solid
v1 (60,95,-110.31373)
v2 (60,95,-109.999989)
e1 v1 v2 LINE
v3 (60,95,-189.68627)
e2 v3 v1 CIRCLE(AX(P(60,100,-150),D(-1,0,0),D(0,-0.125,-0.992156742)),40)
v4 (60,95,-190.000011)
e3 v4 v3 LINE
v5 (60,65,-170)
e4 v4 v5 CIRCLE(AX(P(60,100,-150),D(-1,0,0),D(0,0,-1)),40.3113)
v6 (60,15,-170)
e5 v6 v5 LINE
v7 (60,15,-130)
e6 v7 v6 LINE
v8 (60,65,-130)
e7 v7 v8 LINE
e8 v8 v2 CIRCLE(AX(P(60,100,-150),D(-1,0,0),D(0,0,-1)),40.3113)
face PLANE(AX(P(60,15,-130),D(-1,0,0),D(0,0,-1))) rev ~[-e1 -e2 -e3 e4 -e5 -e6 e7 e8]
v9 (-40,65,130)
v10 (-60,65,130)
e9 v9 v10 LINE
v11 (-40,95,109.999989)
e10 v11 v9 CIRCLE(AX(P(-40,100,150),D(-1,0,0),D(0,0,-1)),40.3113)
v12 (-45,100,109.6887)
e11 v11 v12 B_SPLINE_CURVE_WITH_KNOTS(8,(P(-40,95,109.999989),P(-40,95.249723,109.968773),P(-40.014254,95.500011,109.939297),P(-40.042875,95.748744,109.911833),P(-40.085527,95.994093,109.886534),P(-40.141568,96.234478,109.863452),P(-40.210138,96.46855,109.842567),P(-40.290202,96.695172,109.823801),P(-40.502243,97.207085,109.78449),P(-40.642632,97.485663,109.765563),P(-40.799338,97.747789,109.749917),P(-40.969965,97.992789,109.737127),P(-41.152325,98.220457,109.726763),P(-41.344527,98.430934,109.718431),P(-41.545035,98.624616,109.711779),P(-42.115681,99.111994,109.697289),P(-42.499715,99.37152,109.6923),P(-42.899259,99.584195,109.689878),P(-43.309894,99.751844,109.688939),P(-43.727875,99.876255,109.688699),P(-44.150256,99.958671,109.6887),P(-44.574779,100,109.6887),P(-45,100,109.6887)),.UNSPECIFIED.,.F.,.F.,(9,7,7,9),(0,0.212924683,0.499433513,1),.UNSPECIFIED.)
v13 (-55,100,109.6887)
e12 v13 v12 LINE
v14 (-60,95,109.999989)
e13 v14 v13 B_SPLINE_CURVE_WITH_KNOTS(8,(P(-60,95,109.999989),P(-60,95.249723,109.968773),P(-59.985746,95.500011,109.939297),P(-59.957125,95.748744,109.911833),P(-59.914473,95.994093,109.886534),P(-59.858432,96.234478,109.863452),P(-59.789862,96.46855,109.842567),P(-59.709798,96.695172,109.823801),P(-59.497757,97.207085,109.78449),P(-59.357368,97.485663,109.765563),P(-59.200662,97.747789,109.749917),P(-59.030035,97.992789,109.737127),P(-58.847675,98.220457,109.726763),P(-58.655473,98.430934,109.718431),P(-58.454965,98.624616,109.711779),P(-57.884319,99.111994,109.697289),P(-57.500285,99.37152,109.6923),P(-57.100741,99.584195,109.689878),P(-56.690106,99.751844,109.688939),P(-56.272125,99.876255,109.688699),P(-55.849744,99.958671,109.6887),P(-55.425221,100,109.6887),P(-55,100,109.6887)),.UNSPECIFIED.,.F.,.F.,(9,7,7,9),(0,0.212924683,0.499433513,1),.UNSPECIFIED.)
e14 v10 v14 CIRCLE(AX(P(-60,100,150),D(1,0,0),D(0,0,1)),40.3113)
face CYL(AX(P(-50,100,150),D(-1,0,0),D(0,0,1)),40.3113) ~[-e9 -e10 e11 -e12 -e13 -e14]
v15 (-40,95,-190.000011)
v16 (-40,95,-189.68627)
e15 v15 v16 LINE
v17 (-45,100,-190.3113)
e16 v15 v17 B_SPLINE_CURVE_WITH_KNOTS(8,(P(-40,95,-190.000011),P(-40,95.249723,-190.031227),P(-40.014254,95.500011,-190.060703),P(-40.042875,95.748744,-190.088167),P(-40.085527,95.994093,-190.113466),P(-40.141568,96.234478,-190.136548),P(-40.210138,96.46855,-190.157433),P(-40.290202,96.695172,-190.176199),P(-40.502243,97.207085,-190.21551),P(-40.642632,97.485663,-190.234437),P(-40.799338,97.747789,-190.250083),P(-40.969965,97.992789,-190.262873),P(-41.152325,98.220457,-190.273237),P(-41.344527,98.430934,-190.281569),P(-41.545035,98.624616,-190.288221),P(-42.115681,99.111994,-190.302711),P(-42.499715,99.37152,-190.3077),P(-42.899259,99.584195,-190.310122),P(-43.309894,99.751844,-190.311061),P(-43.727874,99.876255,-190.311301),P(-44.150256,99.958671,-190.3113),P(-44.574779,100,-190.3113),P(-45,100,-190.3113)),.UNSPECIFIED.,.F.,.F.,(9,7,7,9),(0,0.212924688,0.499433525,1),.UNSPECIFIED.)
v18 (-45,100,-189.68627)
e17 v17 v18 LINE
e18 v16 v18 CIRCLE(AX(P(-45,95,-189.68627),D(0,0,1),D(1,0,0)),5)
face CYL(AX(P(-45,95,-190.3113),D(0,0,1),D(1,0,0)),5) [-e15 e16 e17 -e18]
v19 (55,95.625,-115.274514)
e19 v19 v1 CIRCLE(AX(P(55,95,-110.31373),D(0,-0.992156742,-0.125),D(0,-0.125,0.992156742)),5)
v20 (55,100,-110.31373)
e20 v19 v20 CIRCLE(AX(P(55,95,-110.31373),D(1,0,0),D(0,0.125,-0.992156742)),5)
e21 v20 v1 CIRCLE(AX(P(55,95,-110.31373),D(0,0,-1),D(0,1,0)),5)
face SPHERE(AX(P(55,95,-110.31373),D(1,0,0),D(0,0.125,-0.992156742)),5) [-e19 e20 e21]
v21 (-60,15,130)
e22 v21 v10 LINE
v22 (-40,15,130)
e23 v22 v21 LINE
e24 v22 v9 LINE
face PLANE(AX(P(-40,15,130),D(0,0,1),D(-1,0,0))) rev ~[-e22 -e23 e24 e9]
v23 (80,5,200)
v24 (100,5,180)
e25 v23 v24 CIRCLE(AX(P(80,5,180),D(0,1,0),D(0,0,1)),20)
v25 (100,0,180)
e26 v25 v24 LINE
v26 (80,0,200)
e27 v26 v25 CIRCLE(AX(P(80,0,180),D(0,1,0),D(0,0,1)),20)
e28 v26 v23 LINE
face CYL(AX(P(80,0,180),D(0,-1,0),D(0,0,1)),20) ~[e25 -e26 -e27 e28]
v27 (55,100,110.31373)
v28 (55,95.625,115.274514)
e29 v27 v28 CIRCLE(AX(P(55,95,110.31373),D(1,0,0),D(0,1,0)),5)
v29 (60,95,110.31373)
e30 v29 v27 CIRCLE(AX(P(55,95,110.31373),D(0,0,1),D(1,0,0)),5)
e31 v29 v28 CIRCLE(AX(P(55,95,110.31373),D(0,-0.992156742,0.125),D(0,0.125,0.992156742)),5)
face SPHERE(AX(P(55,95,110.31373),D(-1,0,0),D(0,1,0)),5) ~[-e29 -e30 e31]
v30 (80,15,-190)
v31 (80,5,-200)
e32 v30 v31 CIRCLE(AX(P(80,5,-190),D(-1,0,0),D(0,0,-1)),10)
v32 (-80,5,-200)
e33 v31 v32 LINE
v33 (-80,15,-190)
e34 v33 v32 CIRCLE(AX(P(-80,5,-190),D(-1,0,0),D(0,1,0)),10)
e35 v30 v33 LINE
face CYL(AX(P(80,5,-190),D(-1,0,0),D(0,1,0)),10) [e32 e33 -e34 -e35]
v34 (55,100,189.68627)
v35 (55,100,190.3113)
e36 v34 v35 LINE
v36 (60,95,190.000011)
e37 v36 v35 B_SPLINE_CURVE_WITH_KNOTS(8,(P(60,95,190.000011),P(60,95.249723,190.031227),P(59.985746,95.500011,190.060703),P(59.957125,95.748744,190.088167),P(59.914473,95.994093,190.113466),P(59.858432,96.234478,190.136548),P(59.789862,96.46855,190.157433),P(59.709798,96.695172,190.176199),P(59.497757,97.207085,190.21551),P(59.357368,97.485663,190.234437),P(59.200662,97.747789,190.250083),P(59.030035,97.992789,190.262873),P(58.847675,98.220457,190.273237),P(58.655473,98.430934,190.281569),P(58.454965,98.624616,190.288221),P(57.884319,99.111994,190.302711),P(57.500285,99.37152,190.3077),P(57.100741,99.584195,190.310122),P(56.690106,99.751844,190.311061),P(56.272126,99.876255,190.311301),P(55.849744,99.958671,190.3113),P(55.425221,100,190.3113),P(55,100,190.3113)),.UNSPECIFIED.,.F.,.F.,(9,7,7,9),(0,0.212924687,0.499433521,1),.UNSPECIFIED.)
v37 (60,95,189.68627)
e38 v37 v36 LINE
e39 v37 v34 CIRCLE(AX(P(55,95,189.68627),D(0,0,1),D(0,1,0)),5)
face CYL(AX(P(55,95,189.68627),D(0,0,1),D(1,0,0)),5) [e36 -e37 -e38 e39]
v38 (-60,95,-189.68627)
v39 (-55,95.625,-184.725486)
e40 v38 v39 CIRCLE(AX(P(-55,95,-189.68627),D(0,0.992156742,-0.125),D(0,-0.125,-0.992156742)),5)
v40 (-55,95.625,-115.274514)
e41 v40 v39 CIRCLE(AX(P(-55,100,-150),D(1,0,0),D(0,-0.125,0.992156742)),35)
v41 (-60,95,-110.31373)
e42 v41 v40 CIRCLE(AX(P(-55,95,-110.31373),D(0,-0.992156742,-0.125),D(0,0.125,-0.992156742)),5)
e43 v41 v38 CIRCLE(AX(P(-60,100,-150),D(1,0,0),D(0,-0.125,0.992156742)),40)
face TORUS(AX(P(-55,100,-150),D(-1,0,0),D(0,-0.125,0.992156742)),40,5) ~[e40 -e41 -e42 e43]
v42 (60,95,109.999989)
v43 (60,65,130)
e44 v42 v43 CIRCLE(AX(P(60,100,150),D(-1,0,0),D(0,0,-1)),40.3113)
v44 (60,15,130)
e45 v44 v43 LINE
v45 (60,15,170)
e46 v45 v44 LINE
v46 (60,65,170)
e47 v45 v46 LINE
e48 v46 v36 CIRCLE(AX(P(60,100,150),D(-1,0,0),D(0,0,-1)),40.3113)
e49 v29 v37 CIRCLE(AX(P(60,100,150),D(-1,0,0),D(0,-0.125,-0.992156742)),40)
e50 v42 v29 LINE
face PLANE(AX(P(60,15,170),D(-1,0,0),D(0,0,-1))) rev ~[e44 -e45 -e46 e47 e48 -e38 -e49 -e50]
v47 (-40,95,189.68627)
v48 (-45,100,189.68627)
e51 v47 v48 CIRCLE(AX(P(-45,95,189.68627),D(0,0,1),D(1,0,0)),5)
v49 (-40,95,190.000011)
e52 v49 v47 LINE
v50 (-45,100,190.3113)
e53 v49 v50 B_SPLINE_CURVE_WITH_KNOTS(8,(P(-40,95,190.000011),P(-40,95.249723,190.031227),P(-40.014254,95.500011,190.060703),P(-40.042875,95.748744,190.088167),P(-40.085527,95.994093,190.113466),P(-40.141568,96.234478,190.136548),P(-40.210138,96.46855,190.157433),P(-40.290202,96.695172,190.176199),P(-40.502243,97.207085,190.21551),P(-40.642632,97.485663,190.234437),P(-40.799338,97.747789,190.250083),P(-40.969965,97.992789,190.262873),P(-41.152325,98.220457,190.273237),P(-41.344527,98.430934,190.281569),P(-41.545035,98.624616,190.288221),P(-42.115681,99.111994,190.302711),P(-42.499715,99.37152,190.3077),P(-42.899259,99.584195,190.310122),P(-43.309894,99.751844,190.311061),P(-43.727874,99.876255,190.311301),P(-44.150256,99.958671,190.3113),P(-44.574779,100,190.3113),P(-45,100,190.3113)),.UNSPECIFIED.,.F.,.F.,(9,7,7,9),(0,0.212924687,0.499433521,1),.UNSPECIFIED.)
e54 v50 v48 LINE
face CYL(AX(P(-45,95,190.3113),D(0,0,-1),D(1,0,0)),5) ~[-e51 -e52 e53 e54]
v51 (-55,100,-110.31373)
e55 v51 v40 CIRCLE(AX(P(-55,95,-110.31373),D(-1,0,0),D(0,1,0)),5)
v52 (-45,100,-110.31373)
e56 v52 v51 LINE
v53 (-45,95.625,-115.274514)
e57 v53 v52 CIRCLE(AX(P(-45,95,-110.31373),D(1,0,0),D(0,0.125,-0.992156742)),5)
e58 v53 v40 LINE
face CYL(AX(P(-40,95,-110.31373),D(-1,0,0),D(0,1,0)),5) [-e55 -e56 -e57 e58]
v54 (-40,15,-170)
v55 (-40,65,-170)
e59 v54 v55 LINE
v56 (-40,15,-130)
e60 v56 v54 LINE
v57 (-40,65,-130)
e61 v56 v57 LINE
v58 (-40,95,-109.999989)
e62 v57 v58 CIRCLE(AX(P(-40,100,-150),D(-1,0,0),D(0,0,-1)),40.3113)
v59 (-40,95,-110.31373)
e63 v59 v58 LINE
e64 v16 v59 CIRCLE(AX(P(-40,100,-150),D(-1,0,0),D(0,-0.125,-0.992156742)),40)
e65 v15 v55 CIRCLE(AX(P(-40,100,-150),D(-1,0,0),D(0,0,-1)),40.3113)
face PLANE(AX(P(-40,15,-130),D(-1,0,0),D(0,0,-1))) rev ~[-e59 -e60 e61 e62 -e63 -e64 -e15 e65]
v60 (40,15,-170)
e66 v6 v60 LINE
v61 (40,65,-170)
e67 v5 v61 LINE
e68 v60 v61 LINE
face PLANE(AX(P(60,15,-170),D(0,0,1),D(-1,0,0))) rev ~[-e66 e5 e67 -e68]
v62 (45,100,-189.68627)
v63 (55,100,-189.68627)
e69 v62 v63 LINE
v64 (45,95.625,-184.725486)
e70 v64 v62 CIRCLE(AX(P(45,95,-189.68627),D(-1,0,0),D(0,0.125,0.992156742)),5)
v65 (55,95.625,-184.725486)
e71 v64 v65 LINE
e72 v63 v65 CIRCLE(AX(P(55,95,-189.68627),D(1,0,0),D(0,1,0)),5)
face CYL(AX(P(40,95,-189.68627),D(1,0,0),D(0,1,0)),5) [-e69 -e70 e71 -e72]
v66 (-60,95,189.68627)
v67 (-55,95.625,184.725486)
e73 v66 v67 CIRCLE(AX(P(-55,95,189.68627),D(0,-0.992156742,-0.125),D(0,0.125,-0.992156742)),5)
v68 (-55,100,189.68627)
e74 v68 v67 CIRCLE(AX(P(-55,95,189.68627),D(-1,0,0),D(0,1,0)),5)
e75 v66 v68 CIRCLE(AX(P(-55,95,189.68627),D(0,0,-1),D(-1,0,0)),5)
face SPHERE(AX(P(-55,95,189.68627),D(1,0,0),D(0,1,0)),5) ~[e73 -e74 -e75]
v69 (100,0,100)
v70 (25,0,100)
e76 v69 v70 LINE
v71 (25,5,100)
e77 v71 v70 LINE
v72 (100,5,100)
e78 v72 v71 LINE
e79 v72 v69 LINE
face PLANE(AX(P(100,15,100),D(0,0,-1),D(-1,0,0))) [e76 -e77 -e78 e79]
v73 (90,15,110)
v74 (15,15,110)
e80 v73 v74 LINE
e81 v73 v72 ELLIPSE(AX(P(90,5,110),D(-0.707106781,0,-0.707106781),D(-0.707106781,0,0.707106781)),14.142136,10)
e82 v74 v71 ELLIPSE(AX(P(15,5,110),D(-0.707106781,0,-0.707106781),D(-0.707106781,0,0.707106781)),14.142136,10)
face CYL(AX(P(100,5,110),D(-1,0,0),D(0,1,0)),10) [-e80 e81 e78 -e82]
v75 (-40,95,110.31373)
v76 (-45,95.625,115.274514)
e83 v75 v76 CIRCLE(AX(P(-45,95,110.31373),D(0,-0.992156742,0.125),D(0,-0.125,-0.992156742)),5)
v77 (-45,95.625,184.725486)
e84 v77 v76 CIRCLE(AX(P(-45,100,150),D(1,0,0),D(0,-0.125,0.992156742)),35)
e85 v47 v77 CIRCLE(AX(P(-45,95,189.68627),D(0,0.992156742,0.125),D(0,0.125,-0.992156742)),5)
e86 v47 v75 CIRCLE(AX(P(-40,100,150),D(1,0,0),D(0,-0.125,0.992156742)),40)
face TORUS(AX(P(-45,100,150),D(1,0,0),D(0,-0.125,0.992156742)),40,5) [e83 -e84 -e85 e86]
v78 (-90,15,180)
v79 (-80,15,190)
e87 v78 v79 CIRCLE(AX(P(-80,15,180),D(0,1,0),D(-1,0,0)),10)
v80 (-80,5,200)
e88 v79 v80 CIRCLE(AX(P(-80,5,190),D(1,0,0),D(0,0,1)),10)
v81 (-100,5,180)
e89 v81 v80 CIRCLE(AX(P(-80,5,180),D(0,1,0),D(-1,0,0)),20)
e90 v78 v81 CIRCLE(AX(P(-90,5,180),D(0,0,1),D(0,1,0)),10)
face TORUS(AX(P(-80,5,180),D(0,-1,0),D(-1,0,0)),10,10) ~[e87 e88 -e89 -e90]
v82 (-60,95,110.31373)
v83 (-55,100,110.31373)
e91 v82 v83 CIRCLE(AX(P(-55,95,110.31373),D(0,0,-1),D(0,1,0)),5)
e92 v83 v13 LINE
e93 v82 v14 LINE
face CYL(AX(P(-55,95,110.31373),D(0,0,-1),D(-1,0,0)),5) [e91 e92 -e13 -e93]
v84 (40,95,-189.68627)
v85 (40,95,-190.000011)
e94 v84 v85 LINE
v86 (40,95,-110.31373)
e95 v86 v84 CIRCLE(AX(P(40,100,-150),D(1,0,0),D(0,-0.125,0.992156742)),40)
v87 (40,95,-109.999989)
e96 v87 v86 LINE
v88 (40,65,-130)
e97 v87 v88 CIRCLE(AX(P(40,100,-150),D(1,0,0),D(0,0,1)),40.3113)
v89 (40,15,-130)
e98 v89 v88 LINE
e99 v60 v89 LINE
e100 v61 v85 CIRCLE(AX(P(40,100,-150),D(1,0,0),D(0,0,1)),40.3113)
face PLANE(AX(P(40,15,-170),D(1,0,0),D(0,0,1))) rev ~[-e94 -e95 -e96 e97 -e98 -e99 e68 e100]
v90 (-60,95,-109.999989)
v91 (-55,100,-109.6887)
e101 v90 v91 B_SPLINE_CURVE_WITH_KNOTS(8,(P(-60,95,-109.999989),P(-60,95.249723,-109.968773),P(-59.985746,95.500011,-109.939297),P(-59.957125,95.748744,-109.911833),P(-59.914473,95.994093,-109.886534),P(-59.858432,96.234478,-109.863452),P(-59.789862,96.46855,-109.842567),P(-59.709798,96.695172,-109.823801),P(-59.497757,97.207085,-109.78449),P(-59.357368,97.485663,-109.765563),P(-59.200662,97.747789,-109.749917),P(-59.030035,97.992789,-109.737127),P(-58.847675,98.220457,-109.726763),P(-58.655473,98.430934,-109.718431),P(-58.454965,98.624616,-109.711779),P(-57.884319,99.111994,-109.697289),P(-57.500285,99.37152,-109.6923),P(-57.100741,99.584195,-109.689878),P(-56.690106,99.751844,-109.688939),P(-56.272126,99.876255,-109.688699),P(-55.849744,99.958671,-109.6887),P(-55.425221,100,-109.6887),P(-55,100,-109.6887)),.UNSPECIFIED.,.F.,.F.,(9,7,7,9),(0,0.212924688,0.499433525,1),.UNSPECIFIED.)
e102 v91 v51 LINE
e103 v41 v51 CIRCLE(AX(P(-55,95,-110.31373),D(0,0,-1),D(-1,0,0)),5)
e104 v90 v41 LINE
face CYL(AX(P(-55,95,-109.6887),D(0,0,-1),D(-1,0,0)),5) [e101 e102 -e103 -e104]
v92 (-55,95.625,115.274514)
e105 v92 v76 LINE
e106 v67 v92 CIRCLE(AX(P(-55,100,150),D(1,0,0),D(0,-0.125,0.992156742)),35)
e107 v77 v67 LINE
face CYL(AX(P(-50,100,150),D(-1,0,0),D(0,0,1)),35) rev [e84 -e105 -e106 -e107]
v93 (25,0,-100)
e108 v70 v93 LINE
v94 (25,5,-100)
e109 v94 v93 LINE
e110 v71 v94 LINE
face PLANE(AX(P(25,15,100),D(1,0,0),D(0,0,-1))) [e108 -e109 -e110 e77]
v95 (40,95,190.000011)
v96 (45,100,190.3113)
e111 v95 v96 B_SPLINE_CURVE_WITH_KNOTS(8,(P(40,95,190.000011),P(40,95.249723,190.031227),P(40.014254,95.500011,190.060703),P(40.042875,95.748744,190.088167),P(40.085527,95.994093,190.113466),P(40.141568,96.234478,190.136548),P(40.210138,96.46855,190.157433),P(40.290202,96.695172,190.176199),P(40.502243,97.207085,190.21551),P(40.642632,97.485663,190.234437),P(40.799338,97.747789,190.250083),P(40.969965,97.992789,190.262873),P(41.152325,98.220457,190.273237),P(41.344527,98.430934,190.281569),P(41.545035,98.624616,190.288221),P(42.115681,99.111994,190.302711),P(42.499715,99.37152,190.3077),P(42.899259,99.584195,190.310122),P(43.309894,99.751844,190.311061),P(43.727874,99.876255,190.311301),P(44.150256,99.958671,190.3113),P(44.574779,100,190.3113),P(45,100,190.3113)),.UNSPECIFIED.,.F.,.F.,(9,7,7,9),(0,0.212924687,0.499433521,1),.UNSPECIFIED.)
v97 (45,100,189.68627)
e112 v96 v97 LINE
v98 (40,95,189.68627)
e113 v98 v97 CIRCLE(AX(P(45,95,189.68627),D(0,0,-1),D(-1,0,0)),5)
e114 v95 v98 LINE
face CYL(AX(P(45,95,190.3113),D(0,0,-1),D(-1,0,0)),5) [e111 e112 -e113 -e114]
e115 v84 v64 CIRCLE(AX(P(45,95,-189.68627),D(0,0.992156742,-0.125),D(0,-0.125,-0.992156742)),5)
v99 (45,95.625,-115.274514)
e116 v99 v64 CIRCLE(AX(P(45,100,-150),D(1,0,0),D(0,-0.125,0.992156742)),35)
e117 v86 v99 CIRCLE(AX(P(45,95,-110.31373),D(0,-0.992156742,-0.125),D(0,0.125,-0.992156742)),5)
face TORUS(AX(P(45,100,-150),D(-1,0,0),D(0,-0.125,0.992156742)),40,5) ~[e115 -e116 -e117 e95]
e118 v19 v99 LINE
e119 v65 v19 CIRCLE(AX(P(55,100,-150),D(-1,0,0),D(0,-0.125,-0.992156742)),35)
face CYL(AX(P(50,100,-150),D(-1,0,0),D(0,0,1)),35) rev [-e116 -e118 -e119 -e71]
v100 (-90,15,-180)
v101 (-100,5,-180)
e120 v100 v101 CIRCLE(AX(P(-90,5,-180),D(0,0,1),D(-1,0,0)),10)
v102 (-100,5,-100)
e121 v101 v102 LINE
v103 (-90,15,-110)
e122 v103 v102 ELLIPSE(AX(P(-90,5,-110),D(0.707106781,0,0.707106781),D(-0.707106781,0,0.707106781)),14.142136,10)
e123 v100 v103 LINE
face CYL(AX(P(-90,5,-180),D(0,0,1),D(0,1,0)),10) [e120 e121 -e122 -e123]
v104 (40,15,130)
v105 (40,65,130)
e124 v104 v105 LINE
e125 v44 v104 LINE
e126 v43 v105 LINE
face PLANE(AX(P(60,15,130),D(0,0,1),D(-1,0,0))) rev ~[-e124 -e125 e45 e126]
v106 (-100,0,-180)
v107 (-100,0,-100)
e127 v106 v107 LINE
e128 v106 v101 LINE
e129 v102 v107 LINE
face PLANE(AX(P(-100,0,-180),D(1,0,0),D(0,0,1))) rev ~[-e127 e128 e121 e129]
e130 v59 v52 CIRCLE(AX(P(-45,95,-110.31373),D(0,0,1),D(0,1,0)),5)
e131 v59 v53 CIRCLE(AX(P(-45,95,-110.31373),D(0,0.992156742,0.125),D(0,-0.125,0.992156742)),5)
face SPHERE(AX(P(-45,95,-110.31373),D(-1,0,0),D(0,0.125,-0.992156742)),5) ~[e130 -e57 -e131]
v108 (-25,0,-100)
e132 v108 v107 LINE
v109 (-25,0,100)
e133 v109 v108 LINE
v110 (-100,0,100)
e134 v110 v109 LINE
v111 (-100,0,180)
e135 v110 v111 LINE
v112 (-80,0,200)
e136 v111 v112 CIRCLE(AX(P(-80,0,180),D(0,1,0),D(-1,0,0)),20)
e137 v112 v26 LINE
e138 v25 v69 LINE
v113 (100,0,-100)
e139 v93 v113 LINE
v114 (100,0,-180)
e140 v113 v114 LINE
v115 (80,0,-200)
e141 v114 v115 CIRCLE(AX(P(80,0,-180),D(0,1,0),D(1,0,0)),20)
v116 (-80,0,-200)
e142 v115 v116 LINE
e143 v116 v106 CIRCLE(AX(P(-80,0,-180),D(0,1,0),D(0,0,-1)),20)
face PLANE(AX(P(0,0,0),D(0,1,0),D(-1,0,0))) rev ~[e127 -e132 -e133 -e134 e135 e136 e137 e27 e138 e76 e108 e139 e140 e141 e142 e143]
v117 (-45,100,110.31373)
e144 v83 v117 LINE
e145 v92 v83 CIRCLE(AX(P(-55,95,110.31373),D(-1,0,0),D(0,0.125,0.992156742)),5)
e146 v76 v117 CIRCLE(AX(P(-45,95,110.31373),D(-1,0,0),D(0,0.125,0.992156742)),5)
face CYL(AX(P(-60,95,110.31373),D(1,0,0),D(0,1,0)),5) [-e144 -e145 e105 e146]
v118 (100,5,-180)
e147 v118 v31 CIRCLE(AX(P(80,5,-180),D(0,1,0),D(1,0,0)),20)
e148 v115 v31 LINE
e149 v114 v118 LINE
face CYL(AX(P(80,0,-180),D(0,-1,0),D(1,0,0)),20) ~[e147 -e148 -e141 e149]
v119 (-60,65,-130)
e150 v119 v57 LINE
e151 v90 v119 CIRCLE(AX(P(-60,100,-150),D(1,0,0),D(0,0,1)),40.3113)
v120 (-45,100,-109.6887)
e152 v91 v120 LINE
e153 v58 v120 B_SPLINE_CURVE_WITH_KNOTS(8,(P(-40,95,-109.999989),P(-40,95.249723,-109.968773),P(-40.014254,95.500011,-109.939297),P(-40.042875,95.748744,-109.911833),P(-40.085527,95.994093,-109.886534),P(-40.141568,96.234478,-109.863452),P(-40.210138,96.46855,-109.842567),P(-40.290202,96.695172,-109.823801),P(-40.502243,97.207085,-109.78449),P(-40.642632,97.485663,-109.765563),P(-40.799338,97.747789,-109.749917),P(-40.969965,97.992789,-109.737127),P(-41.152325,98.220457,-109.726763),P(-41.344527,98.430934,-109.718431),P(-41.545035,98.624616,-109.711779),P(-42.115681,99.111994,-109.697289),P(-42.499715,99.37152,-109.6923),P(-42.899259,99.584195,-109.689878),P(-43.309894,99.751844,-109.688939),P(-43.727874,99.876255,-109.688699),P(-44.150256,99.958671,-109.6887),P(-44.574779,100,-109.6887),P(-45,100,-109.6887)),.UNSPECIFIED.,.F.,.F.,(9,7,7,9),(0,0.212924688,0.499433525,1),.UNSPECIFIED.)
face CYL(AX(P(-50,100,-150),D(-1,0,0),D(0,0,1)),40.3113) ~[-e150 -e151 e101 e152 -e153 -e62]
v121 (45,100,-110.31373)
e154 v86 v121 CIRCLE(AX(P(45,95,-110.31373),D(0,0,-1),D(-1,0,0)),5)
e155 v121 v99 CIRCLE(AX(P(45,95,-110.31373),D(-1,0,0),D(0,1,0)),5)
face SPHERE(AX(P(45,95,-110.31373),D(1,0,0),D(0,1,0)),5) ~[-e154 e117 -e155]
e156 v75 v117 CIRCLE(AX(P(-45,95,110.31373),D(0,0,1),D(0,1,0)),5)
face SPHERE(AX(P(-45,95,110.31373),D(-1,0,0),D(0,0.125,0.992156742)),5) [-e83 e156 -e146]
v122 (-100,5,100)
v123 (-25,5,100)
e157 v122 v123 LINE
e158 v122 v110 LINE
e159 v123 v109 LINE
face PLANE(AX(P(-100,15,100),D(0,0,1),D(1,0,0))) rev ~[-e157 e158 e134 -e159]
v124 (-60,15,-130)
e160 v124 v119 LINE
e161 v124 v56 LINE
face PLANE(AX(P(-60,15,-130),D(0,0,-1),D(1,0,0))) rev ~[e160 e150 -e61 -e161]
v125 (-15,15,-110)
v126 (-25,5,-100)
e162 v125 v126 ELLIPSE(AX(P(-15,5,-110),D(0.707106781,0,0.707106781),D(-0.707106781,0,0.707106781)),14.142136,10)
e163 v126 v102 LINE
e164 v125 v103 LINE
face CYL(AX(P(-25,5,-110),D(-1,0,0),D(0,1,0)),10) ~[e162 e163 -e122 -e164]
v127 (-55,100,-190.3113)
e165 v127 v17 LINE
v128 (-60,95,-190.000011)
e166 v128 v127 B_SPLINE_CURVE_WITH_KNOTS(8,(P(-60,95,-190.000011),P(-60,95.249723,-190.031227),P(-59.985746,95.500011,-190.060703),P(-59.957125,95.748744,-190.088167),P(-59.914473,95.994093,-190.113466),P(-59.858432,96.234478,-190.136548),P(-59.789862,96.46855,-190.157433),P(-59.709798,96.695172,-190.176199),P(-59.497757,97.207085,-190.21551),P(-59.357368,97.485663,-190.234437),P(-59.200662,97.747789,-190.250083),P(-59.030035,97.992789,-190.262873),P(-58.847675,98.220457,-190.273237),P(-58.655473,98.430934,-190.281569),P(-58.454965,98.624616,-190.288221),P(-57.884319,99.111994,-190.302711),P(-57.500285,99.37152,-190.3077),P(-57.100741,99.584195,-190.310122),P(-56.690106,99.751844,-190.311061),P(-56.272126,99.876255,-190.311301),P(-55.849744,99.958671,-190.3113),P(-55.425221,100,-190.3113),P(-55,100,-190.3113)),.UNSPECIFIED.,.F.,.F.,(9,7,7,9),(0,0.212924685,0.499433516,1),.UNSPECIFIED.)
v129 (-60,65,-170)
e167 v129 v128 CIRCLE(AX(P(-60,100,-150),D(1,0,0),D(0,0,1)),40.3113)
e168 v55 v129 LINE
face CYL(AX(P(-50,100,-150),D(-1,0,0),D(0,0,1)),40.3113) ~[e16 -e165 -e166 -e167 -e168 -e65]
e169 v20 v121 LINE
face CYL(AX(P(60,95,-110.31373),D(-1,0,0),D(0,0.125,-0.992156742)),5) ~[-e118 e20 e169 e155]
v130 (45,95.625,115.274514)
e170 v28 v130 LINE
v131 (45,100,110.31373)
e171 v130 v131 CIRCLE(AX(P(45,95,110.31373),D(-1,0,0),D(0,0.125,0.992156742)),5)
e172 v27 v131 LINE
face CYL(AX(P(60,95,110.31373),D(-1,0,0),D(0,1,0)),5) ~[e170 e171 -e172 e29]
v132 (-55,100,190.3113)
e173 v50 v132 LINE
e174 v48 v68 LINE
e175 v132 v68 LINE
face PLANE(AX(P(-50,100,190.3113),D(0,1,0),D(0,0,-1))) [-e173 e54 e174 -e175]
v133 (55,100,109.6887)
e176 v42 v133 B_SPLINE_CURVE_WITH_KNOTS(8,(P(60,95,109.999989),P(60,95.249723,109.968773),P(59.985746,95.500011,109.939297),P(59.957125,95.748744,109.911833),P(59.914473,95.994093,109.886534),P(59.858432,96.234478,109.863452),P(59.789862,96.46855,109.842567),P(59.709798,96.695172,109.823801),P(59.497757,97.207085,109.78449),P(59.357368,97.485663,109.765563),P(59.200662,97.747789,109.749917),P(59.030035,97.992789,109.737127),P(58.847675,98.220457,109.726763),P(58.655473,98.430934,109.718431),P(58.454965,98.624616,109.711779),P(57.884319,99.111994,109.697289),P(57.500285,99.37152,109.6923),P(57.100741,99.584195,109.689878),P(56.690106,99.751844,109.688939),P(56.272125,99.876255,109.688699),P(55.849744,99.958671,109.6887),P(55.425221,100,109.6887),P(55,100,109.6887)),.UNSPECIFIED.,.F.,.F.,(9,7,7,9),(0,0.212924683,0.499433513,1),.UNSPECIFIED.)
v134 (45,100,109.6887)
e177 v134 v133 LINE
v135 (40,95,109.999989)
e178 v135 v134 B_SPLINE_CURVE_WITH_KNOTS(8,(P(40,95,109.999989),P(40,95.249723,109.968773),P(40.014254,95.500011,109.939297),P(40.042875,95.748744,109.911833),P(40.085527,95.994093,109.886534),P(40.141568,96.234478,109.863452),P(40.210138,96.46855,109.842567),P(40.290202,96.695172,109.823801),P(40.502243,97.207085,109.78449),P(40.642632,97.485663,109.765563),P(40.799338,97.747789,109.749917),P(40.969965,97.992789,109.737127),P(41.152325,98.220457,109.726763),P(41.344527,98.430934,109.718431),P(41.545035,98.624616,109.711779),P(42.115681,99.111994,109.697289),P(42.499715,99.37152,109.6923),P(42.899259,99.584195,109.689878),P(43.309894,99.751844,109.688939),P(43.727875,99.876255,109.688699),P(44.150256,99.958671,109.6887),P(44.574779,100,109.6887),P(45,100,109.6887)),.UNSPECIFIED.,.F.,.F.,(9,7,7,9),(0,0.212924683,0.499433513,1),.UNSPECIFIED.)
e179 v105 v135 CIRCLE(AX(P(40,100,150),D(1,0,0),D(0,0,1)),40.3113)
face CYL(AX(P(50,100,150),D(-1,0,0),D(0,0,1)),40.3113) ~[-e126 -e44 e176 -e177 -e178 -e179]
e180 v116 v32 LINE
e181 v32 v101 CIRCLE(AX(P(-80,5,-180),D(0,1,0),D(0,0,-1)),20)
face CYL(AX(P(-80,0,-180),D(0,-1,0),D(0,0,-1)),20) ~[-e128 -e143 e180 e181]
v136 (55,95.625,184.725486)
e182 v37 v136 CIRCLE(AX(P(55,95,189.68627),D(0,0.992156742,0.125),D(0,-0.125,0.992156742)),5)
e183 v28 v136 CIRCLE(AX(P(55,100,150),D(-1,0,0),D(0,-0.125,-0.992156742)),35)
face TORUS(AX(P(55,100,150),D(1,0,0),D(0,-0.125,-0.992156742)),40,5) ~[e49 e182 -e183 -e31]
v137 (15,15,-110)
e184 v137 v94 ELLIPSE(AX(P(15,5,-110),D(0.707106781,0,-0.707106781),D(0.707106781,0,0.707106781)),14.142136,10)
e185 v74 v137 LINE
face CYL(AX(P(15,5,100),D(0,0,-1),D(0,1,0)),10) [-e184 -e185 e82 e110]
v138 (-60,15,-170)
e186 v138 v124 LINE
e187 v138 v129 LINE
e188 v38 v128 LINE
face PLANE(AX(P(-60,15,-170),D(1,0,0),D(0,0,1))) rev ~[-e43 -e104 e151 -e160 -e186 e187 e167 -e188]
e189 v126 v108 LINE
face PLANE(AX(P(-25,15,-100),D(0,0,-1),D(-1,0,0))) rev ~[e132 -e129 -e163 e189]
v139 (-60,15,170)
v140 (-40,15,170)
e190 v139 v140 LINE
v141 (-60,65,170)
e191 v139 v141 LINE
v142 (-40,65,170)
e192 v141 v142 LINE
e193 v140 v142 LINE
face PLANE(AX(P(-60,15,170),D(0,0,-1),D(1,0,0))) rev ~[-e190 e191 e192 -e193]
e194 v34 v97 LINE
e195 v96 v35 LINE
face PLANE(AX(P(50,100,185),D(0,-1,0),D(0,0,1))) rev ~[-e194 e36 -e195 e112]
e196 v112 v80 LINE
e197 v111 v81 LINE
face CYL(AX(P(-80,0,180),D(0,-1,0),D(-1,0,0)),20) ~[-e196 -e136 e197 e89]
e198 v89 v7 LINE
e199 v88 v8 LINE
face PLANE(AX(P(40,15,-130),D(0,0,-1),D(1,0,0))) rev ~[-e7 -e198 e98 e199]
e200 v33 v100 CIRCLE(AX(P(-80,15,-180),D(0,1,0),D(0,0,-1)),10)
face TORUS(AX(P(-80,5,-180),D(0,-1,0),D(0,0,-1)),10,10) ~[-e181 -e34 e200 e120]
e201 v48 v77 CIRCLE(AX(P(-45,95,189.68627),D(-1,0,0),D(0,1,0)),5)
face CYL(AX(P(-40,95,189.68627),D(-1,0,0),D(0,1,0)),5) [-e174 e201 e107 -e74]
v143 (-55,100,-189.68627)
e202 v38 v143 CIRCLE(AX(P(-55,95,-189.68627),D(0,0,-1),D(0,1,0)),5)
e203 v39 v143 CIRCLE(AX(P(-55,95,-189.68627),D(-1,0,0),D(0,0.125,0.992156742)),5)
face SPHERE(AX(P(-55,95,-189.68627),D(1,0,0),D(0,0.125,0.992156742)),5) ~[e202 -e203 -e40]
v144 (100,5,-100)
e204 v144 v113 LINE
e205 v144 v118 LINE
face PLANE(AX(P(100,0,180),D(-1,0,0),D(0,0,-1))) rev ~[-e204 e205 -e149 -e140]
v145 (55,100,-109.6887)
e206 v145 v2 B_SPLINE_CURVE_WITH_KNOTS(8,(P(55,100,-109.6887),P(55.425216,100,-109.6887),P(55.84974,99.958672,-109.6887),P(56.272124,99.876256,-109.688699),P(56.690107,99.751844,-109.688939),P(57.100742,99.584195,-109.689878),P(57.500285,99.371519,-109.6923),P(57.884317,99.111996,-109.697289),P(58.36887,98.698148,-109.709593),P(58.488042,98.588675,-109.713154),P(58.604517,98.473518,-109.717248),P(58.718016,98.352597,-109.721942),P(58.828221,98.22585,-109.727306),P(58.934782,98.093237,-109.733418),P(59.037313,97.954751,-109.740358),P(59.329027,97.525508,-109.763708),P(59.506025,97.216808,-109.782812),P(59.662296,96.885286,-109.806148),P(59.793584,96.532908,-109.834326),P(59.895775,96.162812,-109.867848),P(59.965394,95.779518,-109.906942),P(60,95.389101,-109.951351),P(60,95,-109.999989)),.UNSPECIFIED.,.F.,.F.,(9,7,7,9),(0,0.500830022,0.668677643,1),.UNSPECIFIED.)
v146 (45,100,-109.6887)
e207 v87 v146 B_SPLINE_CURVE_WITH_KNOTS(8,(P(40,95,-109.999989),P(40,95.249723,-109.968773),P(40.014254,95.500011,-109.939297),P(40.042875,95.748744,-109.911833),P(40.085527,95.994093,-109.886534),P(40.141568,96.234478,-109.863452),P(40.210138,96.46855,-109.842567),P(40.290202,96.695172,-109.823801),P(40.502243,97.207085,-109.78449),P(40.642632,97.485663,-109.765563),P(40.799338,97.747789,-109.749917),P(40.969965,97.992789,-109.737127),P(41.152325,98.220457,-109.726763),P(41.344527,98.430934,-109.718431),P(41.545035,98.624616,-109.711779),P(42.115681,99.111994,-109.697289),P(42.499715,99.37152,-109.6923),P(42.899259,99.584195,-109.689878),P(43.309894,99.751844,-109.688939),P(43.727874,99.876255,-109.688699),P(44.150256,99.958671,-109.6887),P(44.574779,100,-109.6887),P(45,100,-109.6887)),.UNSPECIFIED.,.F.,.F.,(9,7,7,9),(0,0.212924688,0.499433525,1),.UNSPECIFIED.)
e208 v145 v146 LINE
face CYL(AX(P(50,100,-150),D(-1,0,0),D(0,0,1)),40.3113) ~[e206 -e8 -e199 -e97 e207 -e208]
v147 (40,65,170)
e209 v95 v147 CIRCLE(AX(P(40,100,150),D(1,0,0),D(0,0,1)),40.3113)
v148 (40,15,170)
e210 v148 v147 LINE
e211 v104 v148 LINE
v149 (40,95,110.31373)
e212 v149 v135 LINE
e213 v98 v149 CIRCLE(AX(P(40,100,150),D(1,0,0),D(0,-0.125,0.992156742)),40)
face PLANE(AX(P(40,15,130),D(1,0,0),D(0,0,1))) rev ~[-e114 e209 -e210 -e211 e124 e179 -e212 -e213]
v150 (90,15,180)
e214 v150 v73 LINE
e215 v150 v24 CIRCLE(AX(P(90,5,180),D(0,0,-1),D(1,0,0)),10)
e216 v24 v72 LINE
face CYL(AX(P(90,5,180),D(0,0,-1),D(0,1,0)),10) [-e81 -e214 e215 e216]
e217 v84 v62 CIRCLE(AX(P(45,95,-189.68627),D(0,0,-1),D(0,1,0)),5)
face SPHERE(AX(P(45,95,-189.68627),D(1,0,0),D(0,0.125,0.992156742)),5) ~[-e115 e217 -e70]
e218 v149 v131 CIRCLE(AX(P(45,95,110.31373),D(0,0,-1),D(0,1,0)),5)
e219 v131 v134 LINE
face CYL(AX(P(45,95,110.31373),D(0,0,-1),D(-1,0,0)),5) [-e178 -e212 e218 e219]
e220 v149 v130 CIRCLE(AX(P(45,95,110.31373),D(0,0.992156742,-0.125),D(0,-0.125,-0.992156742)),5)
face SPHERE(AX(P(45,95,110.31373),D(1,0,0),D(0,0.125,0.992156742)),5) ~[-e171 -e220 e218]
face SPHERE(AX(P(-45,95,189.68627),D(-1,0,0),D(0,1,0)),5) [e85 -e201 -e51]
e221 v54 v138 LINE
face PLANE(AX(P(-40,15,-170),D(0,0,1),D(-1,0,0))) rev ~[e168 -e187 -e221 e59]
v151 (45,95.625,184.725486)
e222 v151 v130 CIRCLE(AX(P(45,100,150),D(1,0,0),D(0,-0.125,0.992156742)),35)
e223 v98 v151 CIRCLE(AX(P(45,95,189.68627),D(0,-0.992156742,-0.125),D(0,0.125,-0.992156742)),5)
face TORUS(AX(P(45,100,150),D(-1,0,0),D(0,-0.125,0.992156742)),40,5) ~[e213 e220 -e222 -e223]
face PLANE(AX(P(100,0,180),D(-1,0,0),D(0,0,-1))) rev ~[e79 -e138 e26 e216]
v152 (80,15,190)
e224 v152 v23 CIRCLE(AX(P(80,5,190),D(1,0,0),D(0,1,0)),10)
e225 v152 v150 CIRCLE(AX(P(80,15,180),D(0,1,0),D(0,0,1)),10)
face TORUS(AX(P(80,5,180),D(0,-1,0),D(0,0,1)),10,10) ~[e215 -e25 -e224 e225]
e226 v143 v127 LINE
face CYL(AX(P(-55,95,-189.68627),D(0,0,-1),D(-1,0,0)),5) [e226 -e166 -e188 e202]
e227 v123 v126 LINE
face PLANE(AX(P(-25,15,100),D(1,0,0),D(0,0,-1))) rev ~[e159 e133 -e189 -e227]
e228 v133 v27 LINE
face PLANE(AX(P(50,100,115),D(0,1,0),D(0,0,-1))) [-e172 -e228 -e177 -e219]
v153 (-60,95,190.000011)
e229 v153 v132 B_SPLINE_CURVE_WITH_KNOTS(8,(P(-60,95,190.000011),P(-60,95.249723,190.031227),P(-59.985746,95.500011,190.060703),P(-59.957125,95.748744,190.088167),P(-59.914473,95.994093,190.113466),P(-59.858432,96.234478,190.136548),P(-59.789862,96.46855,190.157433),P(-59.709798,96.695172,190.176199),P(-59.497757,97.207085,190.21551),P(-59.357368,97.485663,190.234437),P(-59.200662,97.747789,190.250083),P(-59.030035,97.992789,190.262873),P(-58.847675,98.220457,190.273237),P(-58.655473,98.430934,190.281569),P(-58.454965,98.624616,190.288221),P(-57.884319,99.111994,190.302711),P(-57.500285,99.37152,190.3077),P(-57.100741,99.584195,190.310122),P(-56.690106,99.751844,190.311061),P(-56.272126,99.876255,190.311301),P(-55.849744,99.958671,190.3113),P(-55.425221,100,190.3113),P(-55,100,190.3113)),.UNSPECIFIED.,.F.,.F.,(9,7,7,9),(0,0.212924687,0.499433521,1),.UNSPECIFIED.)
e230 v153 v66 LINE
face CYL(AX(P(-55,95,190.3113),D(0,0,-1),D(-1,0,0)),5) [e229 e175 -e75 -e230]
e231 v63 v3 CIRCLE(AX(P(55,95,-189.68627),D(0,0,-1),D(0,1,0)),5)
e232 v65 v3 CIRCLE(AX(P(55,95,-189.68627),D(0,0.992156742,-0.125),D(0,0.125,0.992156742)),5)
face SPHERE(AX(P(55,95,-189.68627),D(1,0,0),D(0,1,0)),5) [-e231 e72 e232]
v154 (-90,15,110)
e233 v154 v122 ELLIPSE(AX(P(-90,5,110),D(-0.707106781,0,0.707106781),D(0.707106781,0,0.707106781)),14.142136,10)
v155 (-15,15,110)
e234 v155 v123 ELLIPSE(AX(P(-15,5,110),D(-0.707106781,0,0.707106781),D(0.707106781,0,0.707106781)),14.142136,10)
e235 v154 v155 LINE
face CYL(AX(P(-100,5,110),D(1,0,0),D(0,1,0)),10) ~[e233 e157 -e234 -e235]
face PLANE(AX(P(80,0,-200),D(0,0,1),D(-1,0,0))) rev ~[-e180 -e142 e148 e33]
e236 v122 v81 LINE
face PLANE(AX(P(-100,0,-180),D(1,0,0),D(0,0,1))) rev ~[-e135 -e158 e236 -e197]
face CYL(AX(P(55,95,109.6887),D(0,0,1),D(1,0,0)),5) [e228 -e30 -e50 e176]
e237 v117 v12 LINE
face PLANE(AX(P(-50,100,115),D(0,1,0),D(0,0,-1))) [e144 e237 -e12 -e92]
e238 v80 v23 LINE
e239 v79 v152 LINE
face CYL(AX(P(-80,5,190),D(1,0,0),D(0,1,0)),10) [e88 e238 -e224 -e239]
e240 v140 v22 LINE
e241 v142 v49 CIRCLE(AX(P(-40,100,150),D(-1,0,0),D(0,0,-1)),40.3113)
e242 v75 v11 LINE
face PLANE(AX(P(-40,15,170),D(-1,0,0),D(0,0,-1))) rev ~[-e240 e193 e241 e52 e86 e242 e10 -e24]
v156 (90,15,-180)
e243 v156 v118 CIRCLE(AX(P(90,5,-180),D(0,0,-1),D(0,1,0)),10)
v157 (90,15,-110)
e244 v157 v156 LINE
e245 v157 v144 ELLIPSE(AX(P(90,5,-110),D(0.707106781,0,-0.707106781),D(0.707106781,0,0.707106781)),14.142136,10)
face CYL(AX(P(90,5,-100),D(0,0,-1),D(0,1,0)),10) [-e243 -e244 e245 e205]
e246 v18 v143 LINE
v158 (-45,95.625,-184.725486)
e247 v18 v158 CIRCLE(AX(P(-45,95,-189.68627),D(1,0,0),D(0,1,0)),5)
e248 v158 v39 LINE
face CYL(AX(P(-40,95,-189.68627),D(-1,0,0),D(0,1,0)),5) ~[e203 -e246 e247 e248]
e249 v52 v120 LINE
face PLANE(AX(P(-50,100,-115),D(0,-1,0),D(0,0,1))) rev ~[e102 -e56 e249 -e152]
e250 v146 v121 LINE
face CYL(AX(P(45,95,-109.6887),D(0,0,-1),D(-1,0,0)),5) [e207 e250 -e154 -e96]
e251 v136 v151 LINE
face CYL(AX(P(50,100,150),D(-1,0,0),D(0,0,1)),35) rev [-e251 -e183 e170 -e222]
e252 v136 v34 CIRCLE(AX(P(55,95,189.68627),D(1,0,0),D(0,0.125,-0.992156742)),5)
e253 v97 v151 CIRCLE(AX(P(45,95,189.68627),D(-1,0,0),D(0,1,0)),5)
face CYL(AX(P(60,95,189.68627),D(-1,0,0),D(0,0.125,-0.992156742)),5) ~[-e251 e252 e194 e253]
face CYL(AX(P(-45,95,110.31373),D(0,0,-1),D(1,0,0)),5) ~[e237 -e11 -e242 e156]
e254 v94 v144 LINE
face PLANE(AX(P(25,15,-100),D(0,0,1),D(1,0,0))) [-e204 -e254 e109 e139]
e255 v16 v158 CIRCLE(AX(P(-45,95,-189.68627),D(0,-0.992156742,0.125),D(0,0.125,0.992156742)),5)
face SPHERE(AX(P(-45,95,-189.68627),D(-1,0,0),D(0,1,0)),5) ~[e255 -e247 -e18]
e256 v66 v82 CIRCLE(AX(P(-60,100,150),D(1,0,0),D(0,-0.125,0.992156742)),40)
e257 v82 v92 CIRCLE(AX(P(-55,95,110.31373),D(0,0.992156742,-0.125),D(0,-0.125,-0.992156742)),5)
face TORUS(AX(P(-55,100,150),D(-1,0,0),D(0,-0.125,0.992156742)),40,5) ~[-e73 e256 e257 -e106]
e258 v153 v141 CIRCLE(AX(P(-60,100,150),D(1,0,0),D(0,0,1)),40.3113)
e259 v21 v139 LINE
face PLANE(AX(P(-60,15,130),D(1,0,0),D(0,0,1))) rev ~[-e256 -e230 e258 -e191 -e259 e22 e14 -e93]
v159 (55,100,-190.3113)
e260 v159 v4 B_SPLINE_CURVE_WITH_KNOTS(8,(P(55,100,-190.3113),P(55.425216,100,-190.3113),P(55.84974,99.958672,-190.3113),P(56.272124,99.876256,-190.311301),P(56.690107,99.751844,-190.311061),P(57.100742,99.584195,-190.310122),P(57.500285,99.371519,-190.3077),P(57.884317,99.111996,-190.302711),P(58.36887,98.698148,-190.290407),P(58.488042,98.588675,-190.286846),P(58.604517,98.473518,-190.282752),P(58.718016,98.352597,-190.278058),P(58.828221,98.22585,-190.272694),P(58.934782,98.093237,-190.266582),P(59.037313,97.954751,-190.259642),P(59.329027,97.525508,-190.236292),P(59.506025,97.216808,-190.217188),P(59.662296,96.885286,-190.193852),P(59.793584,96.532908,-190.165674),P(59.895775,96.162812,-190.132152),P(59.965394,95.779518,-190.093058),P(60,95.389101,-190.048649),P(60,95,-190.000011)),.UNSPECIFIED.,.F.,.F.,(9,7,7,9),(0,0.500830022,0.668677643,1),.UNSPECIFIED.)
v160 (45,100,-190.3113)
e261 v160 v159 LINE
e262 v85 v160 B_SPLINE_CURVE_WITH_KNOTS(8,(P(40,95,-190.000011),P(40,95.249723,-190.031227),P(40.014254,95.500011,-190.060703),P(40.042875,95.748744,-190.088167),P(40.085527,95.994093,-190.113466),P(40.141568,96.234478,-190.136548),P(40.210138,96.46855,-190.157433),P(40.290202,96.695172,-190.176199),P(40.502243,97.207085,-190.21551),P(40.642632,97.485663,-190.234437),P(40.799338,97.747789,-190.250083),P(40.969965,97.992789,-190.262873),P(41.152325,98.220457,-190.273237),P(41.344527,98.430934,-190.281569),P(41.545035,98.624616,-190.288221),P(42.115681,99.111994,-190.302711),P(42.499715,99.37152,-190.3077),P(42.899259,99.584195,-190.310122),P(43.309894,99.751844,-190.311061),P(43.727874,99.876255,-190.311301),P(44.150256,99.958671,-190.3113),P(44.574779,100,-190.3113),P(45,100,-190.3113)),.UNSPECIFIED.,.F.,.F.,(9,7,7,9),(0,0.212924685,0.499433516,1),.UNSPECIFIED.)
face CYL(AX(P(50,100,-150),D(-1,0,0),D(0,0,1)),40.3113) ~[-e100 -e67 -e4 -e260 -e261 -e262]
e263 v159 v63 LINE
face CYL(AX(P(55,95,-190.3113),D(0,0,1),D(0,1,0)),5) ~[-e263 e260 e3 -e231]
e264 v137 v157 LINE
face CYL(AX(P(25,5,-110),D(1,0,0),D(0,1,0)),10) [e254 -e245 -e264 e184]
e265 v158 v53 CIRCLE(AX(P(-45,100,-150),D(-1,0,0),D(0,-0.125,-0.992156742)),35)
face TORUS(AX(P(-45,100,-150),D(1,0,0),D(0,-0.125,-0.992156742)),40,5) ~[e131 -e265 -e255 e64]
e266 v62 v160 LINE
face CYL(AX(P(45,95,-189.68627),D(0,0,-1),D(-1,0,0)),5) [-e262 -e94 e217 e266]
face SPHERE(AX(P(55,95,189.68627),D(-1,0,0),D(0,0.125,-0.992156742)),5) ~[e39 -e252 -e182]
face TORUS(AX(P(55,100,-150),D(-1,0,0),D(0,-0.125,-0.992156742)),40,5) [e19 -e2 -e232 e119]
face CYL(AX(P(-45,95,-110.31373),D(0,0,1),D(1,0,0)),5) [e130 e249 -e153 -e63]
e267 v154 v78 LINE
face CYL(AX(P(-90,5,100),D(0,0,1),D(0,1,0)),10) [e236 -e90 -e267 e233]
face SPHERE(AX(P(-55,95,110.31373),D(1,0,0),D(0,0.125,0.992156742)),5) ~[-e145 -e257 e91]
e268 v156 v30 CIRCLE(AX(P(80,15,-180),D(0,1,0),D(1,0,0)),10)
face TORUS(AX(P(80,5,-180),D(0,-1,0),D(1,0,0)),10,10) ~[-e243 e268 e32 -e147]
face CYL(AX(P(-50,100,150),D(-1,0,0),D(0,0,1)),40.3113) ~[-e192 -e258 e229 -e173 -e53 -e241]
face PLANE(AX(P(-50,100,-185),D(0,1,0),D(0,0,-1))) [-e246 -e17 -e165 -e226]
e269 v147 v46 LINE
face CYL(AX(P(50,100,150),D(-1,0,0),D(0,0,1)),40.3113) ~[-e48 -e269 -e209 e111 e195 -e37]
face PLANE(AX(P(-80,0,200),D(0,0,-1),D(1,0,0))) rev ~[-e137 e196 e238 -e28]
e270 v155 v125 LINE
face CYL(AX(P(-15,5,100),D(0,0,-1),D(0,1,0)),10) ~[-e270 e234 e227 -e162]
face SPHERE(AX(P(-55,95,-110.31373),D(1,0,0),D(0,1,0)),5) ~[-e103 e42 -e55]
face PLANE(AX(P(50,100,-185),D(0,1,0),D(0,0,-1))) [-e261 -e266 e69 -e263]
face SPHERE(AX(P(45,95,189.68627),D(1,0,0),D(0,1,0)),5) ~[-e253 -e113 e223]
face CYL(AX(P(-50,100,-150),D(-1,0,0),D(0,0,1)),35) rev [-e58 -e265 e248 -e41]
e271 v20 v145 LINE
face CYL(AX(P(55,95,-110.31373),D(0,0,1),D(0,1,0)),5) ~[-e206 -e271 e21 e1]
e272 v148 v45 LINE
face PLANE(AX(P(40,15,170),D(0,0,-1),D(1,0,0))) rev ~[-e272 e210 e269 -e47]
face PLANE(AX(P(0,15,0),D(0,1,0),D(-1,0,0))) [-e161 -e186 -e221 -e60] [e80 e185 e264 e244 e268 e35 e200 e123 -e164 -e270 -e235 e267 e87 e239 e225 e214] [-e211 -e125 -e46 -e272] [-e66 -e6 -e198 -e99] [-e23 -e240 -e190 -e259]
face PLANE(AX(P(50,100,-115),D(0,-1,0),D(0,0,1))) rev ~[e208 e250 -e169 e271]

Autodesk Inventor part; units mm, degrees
ref_plane "XZ Plane" through (0, 0, 0) normal (0, 1, 0) x (-1, 0, 0)
ref_plane "XY Plane" through (0, 0, 0) normal (0, 0, 1) x (1, 0, 0)
sketch "Sketch1" plane through (0, 0, 0) normal (0, 1, 0) x (-1, 0, 0)
  line L0 (-80, -200) -> (80, -200)
  line L1 (100, -180) -> (100, 180)
  line L2 (80, 200) -> (-80, 200)
  line L3 (-100, 180) -> (-100, -180)
  line L4 (-100, -200) -> (100, 200) construction
  line L5 (100, -200) -> (-100, 200) construction
  arc A0 (100, 180) -> (80, 200) centre (80, 180) ccw
  arc A1 (80, -200) -> (100, -180) centre (80, -180) ccw
  arc A2 (-100, -180) -> (-80, -200) centre (-80, -180) ccw
  arc A3 (-80, 200) -> (-100, 180) centre (-80, 180) ccw
  point P0 (0, 0)
  dimension "d0" = 200
  dimension "d1" = 400
  dimension "d2" = 20
extrude "Extrusion1" add sketch "Sketch1" along normal blind 15
sketch "Sketch3" plane through (0, 15, 0) normal (0, 1, 0) x (1, 0, 0)
  line L0 (-100, 180) -> (-100, -180) projected
  line L1 (-100, -100) -> (-25, -100)
  line L2 (-25, -100) -> (-25, 100)
  line L3 (-25, 100) -> (-100, 100)
  line L4 (-100, 100) -> (-100, -100)
  line L5 (100, -180) -> (100, 180) projected
  line L6 (100, -100) -> (25, -100)
  line L7 (25, -100) -> (25, 100)
  line L8 (25, 100) -> (100, 100)
  line L9 (100, 100) -> (100, -100)
  point P0 (0, 0)
  dimension "d5" = 75
  dimension "d6" = 200
  dimension "d7" = 75
extrude "Extrusion2" cut sketch "Sketch3" against normal blind 15
fillet "Fillet1" radius 10 16 edges at (-62.5, 15, 100) (62.5, 15, 100) (62.5, 15, -100) (-62.5, 15, -100) (-25, 15, 0) (25, 15, 0) (-94.1421, 15, -194.1421) (0, 15, -200) (94.1421, 15, -194.1421) (100, 15, -140) (-100, 15, -140) (-94.1421, 15, 194.1421) (0, 15, 200) (94.1421, 15, 194.1421) (100, 15, 140) (-100, 15, 140)
sketch "Sketch5" plane through (0, 15, 0) normal (0, 1, 0) x (1, 0, 0)
  line L0 (40, -170) -> (60, -170)
  line L1 (60, -170) -> (60, -130)
  line L2 (60, -130) -> (40, -130)
  line L3 (40, -130) -> (40, -170)
  line L4 (40, -170) -> (60, -130) construction
  line L5 (60, -170) -> (40, -130) construction
  line L6 (-60, -170) -> (-40, -170)
  line L7 (-40, -170) -> (-40, -130)
  line L8 (-40, -130) -> (-60, -130)
  line L9 (-60, -130) -> (-60, -170)
  line L10 (-60, -170) -> (-40, -130) construction
  line L11 (-40, -170) -> (-60, -130) construction
  line L12 (40, 130) -> (60, 130)
  line L13 (60, 130) -> (60, 170)
  line L14 (60, 170) -> (40, 170)
  line L15 (40, 170) -> (40, 130)
  line L16 (40, 130) -> (60, 170) construction
  line L17 (60, 130) -> (40, 170) construction
  line L18 (-60, 130) -> (-40, 130)
  line L19 (-40, 130) -> (-40, 170)
  line L20 (-40, 170) -> (-60, 170)
  line L21 (-60, 170) -> (-60, 130)
  line L22 (-60, 130) -> (-40, 170) construction
  line L23 (-40, 130) -> (-60, 170) construction
  point P0 (0, 0)
  point P1 (50, -150)
  point P2 (-50, -150)
  point P3 (50, 150)
  point P4 (-50, 150)
  dimension "d11" = 20
  dimension "d12" = 40
  dimension "d13" = 40
extrude "Extrusion3" add sketch "Sketch5" along normal blind 50
ref_plane "Work Plane1" through (50, 0, 0) normal (1, 0, 0) x (0, 1, 0)
sketch "Sketch6" plane through (50, 0, 0) normal (1, 0, 0) x (0, 1, 0)
  line L0 (15, 130) -> (65, 130) projected
  arc A0 (100, 190.3113) -> (100, 109.6887) centre (100, 150) ccw
  arc A1 (100, 185) -> (100, 115) centre (100, 150) ccw
  line L1 (100, 115) -> (100, 109.6887)
  line L2 (100, 185) -> (100, 190.3113)
  line L3 (65, -130) -> (65, -170) projected
  arc A2 (100, -109.6887) -> (100, -190.3113) centre (100, -150) ccw
  arc A3 (100, -115) -> (100, -185) centre (100, -150) ccw
  line L4 (100, -185) -> (100, -190.3113)
  line L5 (100, -115) -> (100, -109.6887)
  point P0 (0, 0)
extrude "Extrusion4" add sketch "Sketch6" along normal mid plane 20
ref_plane "Work Plane2" through (-50, 0, 0) normal (1, 0, 0) x (0, 1, 0)
sketch "Sketch7" plane through (-50, 0, 0) normal (1, 0, 0) x (0, 1, 0)
  line L0 (15, -130) -> (65, -130) projected
  arc A0 (100, -109.6887) -> (100, -190.3113) centre (100, -150) ccw
  arc A1 (100, -115) -> (100, -185) centre (100, -150) ccw
  arc A2 (100, -109.6887) -> (65, -130) centre (100, -150) ccw projected
  line L1 (100, -115) -> (100, -109.6887)
  arc A3 (65, -170) -> (100, -190.3113) centre (100, -150) ccw projected
  line L2 (100, -185) -> (100, -190.3113)
  line L3 (65, 170) -> (65, 130) projected
  arc A4 (100, 190.3113) -> (100, 109.6887) centre (100, 150) ccw
  arc A5 (100, 185) -> (100, 115) centre (100, 150) ccw
  line L4 (100, 190.3113) -> (100, 185) projected
  line L5 (100, 185) -> (100, 190.3113)
  line L6 (100, 115) -> (100, 109.6887) projected
  line L7 (100, 115) -> (100, 109.6887)
  point P0 (0, 0)
extrude "Extrusion5" add sketch "Sketch7" along normal mid plane 20
fillet "Fillet2" radius 5 8 edges at (-50, 100, -185) (50, 100, -185) (50, 100, -115) (-50, 100, -115) (50, 100, 115) (-50, 100, 115) (50, 100, 185) (-50, 100, 185)
fillet "Fillet3" radius 5 24 edges at (40, 100, -189.9988) (40, 100, -110.0012) (40, 65, -150) (60, 100, -110.0012) (60, 100, -189.9988) (60, 65, -150) (-40, 100, -110.0012) (-40, 100, -189.9988) (-40, 65, -150) (-60, 100, -189.9988) (-60, 100, -110.0012) (-60, 65, -150) (-60, 100, 110.0012) (-60, 100, 189.9988) (-60, 65, 150) (-40, 100, 189.9988) (-40, 100, 110.0012) (-40, 65, 150) (40, 100, 110.0012) (40, 100, 189.9988) (40, 65, 150) (60, 100, 189.9988) (60, 100, 110.0012) (60, 65, 150)
properties part number "support"
